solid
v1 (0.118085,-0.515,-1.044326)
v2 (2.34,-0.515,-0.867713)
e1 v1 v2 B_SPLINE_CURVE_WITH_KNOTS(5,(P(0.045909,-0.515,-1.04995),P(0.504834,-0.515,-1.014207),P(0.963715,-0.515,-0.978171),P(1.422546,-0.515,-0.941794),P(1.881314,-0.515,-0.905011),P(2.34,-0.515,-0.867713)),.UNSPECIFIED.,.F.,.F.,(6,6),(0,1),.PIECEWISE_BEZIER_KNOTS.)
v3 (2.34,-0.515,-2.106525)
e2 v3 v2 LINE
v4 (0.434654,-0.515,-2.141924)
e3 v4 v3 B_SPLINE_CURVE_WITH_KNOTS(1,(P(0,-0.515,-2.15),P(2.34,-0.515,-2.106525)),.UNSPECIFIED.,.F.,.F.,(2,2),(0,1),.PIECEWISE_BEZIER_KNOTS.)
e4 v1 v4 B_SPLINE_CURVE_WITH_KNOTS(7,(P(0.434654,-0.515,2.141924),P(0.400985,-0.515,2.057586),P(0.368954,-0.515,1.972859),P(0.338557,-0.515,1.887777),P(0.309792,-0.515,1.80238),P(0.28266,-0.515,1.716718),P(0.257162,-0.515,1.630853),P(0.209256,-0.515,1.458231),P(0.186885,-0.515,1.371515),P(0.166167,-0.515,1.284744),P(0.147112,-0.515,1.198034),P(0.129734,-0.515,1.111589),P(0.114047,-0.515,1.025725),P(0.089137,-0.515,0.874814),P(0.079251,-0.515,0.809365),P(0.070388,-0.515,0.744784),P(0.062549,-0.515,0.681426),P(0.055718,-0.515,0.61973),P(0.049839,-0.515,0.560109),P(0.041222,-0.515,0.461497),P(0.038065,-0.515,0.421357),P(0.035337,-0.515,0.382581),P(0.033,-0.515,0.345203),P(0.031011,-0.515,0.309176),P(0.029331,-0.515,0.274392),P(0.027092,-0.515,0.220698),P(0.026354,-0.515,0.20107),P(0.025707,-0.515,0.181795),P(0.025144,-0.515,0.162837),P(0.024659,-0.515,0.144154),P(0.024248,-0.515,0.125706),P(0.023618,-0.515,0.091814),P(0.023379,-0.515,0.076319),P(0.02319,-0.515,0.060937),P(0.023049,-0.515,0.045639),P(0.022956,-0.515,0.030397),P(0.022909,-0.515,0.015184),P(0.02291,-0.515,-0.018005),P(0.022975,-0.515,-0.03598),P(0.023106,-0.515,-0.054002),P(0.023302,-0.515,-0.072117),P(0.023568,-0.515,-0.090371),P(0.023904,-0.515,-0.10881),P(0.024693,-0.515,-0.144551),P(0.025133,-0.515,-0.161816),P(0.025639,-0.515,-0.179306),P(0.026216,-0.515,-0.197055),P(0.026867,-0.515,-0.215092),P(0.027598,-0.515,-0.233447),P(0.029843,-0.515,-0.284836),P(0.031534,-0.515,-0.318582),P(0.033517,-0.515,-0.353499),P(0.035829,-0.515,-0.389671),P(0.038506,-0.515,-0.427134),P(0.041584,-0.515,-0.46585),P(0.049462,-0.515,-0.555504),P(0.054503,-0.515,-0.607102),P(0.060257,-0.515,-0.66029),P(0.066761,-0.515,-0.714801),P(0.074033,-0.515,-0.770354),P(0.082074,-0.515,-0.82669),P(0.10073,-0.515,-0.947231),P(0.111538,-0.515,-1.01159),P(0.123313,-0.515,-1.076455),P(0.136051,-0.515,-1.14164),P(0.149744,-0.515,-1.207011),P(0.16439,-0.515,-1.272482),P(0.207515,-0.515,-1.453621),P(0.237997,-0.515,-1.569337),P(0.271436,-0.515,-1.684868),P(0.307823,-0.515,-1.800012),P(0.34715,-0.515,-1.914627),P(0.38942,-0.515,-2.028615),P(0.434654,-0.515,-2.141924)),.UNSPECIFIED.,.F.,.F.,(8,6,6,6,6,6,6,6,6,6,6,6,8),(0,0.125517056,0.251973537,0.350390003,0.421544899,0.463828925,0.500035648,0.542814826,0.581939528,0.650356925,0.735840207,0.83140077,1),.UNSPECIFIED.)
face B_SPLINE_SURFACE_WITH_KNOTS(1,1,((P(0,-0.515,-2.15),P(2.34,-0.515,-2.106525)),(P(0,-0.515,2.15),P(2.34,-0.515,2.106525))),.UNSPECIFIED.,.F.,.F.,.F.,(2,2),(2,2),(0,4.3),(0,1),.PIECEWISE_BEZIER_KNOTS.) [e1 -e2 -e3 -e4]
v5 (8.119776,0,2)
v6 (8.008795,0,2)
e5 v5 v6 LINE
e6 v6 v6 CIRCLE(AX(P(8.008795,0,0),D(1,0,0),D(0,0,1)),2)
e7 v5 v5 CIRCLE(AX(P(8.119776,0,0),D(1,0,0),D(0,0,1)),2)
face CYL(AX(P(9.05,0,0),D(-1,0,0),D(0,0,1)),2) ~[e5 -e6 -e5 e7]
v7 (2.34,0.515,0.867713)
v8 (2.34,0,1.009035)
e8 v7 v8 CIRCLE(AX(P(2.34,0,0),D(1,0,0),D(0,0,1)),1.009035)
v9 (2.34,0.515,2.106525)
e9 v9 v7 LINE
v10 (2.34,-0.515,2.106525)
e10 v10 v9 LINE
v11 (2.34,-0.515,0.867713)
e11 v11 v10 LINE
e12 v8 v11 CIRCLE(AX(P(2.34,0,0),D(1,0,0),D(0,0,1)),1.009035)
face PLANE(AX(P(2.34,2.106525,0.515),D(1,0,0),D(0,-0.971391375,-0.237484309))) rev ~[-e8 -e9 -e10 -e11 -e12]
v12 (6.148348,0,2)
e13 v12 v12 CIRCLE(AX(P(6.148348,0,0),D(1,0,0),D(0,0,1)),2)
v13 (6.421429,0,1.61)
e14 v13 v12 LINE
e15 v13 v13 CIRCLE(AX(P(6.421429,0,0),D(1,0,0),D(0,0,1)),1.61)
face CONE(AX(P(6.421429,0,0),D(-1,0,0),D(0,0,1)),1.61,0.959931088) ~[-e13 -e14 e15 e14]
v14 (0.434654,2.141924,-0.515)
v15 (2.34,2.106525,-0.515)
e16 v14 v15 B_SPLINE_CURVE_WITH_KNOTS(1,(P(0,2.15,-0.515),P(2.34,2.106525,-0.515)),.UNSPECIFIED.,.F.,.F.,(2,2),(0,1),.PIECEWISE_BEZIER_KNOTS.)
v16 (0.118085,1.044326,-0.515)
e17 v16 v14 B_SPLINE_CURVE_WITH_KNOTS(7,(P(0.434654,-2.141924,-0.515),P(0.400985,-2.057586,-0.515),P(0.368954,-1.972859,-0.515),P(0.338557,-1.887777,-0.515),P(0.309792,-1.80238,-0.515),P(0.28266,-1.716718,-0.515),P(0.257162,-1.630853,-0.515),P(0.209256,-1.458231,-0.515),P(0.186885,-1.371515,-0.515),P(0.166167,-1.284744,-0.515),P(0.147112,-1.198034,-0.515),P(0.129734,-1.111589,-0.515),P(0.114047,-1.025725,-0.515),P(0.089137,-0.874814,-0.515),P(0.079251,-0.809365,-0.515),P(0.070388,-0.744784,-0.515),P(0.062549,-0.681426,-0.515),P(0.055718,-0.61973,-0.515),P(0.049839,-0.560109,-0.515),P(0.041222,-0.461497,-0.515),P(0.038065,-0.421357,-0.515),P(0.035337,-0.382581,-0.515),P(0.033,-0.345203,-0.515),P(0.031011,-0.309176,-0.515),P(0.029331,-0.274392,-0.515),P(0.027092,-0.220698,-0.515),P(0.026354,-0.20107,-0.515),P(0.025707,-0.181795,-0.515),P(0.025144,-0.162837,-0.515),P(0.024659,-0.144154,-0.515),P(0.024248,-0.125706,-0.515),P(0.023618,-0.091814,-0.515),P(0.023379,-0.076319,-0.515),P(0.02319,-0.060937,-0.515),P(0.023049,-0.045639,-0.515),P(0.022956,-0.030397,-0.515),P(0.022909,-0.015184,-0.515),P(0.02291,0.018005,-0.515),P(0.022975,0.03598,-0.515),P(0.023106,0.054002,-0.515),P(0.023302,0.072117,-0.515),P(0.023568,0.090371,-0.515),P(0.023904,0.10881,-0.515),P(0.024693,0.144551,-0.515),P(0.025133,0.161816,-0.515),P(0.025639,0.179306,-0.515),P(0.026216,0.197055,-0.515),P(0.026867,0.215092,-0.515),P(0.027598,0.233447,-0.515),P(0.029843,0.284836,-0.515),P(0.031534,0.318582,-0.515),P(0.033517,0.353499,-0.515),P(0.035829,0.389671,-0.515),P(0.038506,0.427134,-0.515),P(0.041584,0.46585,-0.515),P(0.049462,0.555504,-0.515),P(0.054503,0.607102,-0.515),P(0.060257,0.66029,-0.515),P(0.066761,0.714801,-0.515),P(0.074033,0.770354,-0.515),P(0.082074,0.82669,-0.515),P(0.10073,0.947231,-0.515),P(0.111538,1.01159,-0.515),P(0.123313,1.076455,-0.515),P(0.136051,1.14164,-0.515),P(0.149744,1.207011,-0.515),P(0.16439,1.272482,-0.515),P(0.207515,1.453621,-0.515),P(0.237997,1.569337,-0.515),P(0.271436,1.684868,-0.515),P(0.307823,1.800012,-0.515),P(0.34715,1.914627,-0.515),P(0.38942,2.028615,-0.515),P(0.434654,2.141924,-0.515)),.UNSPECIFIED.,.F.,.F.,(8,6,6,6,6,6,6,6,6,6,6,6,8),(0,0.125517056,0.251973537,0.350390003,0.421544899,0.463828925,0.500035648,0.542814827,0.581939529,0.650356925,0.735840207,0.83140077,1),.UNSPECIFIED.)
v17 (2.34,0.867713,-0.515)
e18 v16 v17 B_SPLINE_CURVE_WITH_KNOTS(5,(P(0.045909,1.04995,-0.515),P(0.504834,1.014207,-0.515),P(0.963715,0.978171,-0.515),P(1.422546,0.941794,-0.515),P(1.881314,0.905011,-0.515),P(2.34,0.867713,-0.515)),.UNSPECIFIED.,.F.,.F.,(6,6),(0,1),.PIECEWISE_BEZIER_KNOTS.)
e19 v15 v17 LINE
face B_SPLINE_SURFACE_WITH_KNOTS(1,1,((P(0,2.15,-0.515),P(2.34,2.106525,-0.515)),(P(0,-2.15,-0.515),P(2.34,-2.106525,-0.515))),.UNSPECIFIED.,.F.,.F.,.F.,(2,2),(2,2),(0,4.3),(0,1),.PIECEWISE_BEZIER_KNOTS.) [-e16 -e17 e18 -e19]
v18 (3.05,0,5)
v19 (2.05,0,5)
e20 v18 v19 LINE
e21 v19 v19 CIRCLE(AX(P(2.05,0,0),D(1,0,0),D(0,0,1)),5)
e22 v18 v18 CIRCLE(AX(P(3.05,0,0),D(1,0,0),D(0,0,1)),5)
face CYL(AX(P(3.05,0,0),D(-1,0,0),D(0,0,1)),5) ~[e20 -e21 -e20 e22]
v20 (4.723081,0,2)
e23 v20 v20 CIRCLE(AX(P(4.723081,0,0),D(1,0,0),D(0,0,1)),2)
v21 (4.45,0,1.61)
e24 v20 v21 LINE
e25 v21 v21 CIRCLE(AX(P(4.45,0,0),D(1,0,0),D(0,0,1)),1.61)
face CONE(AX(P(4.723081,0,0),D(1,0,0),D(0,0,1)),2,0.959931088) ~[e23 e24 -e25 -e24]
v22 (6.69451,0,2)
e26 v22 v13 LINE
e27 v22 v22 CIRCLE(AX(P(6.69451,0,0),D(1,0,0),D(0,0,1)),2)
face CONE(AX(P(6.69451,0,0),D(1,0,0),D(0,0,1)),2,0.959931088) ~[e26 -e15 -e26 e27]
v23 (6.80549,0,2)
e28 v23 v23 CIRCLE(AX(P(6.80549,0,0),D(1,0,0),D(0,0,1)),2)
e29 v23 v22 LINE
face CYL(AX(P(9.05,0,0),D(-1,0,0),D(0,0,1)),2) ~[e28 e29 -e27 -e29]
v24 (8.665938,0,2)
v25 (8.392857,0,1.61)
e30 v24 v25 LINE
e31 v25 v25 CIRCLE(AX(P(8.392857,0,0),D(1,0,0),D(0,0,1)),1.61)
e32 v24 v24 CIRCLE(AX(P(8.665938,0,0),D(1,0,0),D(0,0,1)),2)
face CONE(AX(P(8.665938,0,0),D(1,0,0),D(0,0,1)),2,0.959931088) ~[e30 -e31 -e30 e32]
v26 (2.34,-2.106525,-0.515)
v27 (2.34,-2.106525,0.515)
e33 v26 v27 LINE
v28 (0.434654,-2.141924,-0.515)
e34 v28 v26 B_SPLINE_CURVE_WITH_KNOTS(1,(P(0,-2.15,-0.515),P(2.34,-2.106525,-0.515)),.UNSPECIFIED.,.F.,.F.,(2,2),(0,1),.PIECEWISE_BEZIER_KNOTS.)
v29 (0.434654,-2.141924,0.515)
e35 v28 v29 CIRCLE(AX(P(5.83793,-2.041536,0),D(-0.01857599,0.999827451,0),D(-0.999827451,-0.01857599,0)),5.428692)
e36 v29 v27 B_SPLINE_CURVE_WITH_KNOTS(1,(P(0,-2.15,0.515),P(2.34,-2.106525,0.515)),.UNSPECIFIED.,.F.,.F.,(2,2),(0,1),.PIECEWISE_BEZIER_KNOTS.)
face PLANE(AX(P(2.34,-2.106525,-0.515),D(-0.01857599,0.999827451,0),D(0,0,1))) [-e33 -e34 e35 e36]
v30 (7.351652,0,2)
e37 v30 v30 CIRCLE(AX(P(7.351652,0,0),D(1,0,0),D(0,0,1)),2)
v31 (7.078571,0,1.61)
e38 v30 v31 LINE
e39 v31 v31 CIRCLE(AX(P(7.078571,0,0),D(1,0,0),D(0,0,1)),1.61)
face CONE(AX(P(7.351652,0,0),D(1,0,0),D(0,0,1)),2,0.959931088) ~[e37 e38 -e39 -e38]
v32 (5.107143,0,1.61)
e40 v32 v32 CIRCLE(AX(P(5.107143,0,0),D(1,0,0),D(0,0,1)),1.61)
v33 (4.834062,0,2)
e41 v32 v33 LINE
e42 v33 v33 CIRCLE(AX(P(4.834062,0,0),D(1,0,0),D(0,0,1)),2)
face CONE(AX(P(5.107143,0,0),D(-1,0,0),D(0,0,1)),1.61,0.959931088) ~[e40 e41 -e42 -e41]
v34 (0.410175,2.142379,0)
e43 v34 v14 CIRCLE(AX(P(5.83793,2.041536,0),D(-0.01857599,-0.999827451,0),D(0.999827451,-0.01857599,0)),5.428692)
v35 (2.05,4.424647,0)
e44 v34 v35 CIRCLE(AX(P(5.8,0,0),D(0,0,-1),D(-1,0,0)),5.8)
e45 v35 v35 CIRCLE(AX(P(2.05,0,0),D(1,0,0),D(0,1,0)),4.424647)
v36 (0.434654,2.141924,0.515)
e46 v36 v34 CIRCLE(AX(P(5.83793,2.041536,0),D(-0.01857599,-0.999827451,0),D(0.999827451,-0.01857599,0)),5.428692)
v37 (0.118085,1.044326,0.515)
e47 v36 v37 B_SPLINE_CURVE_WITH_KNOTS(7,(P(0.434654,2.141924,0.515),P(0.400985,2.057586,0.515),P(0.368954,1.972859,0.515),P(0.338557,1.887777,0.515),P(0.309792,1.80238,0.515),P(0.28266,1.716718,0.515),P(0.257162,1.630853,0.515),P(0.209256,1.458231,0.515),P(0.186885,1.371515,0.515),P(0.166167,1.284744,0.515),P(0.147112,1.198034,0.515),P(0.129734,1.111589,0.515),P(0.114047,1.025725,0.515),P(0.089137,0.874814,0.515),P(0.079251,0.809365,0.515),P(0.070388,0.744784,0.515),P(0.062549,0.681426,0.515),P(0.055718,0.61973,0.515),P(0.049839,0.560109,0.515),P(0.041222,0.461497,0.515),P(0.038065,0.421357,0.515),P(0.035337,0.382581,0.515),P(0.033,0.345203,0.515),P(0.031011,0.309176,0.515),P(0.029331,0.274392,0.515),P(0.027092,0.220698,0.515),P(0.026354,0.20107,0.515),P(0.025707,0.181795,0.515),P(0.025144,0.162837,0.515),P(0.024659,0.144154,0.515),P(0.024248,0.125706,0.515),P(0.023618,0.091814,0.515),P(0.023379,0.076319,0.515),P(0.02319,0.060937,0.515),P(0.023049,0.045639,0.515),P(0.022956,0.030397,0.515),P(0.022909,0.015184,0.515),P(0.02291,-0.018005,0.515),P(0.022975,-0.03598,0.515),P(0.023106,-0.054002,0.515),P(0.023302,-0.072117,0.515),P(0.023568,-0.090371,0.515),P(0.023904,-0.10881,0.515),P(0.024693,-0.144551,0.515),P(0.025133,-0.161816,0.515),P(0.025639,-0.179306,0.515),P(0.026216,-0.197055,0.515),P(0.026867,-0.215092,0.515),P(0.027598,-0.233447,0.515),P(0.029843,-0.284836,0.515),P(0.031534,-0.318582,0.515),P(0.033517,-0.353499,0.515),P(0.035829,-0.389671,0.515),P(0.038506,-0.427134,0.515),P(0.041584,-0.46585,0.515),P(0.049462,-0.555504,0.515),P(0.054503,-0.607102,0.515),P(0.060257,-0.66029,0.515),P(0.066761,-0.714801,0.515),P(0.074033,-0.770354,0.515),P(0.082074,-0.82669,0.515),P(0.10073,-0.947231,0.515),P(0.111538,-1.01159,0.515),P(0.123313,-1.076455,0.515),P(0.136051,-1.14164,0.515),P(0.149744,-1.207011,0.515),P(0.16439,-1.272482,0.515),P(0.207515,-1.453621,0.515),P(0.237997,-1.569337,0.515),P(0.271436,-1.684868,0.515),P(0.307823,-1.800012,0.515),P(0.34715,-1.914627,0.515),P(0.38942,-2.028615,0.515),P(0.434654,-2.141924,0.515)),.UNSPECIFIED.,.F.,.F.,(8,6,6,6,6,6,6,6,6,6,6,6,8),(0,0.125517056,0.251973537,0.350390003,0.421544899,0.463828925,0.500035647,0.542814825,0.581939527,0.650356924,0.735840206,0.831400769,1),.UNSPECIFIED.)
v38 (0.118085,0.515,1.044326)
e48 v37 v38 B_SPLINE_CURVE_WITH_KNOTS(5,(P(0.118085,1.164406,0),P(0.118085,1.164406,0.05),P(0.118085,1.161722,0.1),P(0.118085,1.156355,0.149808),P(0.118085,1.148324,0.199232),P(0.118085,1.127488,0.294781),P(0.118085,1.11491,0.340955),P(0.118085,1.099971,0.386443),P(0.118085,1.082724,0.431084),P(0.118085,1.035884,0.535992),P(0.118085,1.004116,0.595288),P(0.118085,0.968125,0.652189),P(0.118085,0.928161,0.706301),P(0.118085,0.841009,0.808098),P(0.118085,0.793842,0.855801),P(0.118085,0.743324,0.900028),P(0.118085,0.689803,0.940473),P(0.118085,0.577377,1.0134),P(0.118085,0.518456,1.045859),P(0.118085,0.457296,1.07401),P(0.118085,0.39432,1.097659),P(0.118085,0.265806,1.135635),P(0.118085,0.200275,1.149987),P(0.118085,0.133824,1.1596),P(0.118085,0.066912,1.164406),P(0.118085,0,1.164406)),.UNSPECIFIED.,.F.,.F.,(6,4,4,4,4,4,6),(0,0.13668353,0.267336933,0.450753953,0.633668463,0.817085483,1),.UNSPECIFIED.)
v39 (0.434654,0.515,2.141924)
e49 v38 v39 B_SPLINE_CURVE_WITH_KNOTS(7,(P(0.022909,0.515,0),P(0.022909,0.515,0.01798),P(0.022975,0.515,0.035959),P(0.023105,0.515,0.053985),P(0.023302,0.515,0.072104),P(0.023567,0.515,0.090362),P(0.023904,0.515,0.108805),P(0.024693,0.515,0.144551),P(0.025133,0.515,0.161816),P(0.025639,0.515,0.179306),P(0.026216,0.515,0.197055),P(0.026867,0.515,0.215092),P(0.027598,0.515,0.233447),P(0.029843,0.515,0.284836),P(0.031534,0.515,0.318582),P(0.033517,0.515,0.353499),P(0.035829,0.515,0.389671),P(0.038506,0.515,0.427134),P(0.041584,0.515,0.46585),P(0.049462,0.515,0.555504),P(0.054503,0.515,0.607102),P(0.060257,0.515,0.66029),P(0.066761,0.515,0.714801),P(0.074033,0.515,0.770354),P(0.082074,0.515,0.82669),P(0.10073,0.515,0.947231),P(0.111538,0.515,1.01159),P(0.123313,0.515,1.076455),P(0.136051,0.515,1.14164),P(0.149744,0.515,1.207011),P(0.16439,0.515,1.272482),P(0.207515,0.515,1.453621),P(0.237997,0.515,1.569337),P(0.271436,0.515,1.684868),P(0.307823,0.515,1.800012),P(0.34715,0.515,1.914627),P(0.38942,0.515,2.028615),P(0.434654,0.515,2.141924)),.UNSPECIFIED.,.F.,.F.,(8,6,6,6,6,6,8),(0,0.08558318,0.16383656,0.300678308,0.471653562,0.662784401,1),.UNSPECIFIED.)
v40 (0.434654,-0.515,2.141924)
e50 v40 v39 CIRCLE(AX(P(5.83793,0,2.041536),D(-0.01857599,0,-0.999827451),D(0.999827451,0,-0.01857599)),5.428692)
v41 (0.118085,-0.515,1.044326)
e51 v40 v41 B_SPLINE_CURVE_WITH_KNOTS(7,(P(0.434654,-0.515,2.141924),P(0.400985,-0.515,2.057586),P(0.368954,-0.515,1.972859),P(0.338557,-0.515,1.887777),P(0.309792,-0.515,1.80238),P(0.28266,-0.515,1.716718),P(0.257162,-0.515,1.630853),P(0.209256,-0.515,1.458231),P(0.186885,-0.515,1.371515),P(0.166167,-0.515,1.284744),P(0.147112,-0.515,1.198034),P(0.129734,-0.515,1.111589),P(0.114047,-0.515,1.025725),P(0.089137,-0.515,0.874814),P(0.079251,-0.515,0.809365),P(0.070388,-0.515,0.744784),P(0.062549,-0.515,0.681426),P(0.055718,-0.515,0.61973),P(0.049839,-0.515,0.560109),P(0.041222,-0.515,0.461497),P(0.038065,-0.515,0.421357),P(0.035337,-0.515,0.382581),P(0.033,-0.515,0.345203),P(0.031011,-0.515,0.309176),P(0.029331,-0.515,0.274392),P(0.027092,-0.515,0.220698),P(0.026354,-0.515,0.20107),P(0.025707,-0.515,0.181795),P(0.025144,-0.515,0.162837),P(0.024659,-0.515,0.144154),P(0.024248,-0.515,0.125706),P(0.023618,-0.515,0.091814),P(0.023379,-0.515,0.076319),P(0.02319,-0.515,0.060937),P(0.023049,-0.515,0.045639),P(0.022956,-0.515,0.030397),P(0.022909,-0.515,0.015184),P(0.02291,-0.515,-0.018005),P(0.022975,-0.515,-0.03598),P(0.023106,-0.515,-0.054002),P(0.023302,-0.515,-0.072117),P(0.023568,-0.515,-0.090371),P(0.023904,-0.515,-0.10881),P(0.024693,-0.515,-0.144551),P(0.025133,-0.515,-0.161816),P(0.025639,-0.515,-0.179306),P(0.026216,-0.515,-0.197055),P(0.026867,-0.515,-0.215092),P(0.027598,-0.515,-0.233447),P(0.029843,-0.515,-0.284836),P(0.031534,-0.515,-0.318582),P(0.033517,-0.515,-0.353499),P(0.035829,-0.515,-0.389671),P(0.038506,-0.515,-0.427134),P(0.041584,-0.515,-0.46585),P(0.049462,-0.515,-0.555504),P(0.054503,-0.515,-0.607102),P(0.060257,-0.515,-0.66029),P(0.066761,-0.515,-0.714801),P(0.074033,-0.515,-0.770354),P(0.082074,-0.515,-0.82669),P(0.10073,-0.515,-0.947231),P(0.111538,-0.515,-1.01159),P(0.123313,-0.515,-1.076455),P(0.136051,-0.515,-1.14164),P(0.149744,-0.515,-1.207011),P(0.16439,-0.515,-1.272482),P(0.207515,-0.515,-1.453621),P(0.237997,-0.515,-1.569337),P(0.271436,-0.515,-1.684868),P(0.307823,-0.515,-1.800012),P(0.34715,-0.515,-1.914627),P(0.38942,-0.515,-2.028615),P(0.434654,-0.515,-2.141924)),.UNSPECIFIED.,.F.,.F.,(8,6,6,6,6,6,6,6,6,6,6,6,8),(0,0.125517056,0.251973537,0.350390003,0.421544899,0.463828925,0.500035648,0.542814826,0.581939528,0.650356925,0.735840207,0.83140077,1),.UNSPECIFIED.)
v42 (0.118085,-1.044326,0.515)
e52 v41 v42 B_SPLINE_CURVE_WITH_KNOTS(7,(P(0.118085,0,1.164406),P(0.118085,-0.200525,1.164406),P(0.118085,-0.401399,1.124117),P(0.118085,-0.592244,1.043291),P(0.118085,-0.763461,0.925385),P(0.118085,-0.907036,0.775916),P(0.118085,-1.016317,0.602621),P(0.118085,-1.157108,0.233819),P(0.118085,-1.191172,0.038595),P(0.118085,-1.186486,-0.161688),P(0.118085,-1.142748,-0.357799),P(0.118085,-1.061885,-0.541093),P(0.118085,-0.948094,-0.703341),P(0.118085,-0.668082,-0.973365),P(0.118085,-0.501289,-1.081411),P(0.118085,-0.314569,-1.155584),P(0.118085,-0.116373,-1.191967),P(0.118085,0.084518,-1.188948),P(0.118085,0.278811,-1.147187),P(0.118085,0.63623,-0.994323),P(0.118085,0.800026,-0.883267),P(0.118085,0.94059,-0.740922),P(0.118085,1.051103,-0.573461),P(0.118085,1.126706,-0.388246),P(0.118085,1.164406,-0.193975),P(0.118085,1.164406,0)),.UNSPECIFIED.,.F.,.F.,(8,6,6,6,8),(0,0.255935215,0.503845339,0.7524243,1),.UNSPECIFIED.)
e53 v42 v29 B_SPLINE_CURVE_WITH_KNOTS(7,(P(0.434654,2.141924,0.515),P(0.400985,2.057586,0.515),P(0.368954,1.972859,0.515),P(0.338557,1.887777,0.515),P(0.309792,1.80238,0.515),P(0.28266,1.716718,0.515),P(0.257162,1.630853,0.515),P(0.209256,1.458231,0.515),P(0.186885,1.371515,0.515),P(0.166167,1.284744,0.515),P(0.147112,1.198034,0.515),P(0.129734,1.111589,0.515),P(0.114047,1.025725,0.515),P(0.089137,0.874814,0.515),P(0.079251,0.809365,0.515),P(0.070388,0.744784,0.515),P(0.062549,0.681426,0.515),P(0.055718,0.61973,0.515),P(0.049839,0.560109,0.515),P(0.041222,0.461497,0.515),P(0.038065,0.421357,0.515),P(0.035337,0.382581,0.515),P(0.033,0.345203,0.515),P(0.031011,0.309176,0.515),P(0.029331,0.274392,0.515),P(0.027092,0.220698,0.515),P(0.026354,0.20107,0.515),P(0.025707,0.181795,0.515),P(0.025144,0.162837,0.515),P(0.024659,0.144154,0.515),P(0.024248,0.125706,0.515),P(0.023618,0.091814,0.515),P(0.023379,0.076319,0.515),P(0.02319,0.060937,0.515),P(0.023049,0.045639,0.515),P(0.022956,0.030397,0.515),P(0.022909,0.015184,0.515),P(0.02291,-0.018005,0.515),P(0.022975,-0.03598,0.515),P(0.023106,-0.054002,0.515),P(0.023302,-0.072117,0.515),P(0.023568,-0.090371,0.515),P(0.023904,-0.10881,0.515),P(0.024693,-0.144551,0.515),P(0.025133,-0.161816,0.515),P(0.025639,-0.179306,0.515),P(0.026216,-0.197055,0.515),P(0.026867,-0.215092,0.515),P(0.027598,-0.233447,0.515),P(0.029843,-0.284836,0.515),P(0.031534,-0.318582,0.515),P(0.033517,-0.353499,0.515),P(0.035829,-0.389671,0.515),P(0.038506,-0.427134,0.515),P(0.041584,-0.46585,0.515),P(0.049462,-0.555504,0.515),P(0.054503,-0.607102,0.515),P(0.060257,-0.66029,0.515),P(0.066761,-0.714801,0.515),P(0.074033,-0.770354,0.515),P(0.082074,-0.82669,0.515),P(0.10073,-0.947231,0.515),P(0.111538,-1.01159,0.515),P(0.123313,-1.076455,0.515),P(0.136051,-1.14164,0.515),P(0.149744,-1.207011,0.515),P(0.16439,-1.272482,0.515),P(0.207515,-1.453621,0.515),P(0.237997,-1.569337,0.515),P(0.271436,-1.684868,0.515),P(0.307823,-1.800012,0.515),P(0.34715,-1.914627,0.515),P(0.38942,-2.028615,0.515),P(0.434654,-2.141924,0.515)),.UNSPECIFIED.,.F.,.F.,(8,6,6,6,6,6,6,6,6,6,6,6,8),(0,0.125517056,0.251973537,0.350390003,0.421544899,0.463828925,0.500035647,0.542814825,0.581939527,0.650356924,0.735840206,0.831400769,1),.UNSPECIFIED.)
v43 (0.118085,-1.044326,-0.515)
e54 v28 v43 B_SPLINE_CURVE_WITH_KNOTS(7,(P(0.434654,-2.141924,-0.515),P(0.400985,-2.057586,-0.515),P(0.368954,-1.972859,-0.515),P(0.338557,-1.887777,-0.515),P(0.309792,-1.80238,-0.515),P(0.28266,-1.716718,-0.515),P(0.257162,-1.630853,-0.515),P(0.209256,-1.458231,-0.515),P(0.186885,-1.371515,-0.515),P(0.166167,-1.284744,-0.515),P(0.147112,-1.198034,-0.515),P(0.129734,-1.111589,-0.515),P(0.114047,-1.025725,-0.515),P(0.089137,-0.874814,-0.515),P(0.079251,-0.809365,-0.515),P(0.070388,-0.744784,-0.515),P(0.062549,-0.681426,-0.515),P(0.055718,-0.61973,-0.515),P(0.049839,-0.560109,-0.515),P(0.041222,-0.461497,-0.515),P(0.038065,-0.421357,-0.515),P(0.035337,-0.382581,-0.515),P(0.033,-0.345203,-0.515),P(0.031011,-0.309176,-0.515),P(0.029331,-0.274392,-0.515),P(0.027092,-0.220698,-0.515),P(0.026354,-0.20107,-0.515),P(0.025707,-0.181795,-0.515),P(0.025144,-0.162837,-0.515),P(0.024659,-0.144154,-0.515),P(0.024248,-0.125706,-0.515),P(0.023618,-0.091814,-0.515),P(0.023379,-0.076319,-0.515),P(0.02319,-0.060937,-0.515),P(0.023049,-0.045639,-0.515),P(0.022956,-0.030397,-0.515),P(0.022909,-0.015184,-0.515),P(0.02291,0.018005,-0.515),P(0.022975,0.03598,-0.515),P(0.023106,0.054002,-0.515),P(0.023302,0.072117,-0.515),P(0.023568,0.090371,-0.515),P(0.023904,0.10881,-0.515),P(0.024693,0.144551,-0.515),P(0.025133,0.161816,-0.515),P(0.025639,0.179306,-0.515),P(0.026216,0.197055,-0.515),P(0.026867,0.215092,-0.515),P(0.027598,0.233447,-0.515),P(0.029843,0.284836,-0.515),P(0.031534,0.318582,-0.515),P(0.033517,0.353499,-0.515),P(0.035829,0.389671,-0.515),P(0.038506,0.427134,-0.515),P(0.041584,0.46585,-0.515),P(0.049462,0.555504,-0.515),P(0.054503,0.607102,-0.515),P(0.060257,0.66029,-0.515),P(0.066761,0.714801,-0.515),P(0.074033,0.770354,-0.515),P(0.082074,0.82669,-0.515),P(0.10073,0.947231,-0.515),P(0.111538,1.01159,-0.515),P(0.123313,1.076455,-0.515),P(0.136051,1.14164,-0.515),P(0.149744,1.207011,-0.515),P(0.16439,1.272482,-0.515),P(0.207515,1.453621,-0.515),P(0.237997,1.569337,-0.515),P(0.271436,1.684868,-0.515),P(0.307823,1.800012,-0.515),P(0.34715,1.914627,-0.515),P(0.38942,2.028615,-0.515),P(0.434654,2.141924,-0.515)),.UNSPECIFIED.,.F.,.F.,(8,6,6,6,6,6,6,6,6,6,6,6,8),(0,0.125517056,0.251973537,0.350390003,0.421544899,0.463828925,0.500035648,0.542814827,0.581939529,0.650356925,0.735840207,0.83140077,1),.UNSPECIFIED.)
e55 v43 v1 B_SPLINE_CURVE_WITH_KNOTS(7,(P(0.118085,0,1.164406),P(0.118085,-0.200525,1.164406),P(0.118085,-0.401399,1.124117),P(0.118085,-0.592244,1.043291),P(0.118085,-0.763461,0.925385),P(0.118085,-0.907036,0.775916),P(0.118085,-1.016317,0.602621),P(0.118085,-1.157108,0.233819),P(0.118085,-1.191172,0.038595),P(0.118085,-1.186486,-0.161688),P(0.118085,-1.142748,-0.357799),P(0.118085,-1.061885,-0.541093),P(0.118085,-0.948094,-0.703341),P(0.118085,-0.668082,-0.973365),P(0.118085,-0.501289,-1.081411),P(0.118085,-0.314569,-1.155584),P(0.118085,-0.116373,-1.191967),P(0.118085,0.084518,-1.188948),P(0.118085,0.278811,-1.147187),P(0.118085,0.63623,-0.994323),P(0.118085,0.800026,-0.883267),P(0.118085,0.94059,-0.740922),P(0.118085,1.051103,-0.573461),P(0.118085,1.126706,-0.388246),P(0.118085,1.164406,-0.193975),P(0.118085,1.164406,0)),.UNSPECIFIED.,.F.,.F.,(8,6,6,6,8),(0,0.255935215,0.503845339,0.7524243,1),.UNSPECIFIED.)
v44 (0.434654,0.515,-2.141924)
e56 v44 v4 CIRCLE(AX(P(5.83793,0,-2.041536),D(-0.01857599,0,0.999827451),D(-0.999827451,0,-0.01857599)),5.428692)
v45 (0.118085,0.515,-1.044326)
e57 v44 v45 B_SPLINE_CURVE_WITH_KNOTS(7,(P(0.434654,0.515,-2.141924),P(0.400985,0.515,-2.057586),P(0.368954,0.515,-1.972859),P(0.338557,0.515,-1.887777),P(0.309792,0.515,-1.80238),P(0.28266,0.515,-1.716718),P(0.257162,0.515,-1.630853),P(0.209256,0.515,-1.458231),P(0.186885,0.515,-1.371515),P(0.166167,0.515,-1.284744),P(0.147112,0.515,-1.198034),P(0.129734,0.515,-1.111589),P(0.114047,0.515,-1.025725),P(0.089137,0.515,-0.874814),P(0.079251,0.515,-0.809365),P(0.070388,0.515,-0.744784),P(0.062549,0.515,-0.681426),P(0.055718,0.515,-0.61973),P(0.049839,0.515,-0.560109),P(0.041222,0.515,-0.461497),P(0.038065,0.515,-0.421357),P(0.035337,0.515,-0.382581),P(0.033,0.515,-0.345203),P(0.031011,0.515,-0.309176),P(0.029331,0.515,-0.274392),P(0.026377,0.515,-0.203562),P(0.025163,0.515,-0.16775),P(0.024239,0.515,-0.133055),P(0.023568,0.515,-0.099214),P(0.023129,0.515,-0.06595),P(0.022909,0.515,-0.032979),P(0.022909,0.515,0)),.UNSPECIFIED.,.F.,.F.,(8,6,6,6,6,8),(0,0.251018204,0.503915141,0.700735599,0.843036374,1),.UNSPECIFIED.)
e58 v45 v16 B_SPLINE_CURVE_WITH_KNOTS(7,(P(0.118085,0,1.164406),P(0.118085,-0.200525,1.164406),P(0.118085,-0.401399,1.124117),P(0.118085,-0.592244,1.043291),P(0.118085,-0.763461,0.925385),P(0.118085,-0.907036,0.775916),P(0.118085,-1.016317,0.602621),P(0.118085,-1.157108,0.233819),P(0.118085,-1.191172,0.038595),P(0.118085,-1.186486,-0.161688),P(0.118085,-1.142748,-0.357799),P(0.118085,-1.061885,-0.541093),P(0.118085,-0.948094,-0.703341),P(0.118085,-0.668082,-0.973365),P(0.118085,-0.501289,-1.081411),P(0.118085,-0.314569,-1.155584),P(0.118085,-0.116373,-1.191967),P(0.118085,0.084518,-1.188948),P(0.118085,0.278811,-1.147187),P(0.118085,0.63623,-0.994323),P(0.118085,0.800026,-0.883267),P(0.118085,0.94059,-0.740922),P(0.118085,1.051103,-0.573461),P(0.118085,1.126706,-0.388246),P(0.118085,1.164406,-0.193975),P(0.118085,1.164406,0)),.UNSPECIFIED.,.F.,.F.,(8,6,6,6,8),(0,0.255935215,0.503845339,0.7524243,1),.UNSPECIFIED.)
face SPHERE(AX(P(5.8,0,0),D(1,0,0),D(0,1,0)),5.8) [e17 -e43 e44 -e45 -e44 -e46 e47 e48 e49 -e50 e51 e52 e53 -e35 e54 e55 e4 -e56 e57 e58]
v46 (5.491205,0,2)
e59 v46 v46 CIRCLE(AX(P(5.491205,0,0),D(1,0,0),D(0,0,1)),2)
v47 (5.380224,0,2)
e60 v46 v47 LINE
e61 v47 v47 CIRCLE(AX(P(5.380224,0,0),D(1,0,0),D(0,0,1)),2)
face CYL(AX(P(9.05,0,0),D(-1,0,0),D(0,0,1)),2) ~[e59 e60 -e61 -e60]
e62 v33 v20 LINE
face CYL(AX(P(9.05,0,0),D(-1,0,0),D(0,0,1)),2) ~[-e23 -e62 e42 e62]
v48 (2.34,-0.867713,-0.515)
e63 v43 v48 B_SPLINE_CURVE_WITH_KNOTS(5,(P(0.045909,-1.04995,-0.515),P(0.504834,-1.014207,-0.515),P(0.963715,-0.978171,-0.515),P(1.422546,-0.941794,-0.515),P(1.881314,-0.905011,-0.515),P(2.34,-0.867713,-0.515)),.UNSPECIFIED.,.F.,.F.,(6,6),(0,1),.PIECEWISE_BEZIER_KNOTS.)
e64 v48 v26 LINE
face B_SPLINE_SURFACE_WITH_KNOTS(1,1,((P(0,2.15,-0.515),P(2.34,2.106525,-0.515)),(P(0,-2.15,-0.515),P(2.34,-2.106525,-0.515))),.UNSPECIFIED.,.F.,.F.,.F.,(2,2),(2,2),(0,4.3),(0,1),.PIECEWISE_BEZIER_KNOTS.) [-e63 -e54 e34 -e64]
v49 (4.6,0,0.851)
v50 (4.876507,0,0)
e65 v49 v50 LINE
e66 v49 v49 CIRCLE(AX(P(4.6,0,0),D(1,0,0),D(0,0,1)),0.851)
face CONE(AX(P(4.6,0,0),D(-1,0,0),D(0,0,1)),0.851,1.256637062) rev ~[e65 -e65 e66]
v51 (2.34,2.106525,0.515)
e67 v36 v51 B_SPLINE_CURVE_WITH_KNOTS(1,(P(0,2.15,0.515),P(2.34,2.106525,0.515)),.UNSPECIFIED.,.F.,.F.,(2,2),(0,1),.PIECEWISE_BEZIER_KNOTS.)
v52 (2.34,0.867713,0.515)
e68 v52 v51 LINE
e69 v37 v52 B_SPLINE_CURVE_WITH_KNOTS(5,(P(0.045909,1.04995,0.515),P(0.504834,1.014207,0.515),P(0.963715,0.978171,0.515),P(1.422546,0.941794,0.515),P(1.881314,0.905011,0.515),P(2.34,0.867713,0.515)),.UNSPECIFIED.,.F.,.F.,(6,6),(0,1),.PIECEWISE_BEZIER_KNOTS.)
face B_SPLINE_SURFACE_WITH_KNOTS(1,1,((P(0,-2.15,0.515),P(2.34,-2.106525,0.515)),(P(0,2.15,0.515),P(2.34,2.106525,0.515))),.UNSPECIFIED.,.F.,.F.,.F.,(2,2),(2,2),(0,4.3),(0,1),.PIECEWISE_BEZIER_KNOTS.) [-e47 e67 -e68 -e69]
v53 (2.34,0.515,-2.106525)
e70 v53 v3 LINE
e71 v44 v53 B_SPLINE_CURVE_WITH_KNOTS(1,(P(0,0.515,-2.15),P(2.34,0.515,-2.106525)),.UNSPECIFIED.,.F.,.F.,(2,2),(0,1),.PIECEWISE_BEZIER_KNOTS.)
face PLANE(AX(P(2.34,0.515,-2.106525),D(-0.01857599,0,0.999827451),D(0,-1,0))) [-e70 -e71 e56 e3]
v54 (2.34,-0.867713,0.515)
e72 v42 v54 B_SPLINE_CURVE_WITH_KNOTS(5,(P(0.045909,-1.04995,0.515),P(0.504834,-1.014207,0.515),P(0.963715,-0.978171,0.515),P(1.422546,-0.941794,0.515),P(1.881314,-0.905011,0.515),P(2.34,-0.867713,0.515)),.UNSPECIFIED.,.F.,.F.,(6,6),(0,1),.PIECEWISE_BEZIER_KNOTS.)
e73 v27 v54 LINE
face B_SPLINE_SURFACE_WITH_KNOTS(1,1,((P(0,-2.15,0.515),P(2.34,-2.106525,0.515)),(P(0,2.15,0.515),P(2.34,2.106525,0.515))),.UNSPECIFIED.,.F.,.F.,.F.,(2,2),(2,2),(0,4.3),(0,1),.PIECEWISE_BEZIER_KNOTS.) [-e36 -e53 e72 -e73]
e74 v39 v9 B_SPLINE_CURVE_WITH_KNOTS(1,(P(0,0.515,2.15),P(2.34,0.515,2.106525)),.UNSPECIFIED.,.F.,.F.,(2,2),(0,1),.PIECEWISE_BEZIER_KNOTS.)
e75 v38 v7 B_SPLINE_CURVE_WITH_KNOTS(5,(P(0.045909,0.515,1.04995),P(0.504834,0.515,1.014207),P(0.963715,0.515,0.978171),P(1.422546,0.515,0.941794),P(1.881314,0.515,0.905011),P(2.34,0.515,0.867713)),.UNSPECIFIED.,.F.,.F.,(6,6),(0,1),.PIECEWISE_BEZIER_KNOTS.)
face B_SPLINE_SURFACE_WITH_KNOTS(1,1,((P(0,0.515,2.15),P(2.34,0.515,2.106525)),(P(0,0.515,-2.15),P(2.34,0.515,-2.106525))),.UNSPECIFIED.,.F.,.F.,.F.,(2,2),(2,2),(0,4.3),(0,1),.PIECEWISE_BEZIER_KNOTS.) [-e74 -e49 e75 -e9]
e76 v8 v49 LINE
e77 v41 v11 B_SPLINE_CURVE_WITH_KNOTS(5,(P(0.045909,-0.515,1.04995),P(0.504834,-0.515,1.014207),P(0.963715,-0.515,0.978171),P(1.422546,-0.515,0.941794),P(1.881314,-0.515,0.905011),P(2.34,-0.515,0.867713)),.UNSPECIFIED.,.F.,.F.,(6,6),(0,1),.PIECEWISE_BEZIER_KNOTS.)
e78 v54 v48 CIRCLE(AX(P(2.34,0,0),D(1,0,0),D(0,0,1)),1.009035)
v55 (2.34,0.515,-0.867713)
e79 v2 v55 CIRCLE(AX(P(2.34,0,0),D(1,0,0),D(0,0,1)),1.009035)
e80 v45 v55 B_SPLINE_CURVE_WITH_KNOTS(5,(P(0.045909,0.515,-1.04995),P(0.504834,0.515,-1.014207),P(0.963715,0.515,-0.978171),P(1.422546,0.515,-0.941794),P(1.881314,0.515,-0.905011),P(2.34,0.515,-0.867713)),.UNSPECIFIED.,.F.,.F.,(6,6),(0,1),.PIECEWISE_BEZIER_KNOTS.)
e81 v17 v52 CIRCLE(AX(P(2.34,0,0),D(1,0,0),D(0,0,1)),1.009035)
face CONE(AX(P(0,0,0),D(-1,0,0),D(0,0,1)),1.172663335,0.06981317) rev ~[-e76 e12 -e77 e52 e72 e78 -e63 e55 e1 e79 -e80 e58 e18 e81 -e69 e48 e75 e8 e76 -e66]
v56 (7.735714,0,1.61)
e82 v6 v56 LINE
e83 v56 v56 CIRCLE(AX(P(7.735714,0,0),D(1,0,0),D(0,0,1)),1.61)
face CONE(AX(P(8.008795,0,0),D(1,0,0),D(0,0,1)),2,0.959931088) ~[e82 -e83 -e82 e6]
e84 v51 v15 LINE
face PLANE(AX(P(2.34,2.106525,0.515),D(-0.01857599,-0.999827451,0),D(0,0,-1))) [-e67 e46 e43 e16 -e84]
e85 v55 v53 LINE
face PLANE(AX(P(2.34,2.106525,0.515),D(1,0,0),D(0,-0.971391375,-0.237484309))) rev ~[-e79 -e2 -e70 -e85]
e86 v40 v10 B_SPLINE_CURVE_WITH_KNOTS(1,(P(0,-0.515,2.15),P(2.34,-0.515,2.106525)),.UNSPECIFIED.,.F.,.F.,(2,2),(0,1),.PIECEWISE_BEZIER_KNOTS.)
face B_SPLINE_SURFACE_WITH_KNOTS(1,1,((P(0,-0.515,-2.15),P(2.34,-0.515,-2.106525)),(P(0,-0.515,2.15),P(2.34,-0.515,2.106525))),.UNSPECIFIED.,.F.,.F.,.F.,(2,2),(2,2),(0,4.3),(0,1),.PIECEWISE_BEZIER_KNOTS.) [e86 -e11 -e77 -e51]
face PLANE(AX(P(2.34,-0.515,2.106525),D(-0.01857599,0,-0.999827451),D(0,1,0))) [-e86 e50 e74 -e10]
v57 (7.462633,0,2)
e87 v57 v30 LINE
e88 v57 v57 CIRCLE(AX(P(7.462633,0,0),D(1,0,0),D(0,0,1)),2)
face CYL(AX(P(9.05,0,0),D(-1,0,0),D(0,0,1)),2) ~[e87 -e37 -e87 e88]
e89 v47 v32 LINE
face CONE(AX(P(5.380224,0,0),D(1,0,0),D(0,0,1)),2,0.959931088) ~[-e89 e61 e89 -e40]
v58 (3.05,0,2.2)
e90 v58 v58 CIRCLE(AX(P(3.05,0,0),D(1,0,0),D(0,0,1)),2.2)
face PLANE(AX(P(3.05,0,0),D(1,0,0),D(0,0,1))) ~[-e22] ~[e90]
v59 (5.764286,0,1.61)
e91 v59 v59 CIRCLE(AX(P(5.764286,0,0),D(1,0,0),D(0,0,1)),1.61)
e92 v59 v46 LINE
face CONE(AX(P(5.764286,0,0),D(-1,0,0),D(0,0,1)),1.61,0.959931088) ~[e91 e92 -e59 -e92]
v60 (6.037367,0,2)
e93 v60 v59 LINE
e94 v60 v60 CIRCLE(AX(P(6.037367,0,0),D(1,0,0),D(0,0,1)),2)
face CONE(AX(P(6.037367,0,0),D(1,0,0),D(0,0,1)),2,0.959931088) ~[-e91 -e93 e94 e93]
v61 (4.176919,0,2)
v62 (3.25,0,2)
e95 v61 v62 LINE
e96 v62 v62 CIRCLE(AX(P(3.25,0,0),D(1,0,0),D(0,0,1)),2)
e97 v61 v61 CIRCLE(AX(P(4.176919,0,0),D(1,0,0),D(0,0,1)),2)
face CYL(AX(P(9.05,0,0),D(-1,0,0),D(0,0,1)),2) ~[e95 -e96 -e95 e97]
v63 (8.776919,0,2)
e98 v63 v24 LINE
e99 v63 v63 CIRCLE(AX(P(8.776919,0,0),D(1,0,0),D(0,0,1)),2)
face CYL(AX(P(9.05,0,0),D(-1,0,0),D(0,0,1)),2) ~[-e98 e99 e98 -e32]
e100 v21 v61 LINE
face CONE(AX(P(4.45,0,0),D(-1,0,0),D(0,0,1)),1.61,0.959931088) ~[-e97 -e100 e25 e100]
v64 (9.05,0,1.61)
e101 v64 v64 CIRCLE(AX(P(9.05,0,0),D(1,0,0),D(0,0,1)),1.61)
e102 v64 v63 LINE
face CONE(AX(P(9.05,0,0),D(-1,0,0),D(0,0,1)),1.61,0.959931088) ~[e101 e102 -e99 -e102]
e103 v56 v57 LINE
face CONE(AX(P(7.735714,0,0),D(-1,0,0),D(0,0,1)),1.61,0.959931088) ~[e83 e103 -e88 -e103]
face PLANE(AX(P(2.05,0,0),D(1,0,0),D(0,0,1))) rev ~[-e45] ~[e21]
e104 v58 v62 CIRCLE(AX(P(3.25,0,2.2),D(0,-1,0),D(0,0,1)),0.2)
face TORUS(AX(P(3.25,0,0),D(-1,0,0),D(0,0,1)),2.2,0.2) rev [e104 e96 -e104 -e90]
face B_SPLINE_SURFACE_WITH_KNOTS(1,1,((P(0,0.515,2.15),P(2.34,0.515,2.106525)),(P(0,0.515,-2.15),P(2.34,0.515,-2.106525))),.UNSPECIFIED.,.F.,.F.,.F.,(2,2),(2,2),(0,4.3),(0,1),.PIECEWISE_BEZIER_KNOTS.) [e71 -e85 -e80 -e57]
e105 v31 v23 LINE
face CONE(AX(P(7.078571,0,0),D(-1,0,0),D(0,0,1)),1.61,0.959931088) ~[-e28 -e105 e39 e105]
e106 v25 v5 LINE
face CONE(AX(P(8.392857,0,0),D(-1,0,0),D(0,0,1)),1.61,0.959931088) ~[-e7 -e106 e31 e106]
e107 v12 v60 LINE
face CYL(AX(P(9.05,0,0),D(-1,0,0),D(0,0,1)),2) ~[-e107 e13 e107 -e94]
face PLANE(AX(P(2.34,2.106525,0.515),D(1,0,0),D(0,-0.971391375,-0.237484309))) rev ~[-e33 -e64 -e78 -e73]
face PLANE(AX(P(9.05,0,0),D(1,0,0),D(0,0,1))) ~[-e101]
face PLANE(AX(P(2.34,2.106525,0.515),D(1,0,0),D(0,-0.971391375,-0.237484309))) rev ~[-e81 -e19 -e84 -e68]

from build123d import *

# Parameters (mm, degrees)
FILLET1_R       = 0.2
RECPAT_COUNT    = 2
RECPAT_ANGLE    = 90
THDSCHPAT_COUNT = 8
THDSCHPAT_PITCH = 0.657142857


with BuildPart() as part:
    # BodySke → Base-Revolve (revolve)
    with BuildSketch(Plane.XY, mode=Mode.PRIVATE) as base_revolve_sk:
        Polygon((3.05, 2), (3.05, 5), (2.05, 5), (2.05, 0), (9.05, 0), (9.05, 2), align=None)
    revolve(base_revolve_sk.sketch.rotate(Axis((-6.35, 0, 0), (1, 0, 0)), 90), axis=Axis((-6.35, 0, 0), (1, 0, 0)))

    # Fillet1
    fillet1_edges = [part.edges().sort_by_distance(p)[0] for p in [
        (3.05, 0, -2),
    ]]
    fillet(fillet1_edges, radius=FILLET1_R)

    # PanSke → Pan (revolve)
    with BuildSketch(Plane.XY):
        with BuildLine():
            Line((2.05, 4.424646879), (2.05, 0))
            Line((2.05, 0), (0, 0))
            ThreePointArc((0, 0), (0.537396082, 2.438237068), (2.05, 4.424646879))
        make_face()
    revolve(axis=Axis((0, 0, 0), (1, 0, 0)))

    # Sketch3 → Recess section 0
    with BuildSketch(Plane(origin=(0, 0, 0), x_dir=(0, 0, -1), z_dir=(1, 0, 0))):
        with BuildLine():
            Line((-0.515, 2.15), (0.515, 2.15))
            Line((0.515, 2.15), (0.515, -2.15))
            Line((0.515, -2.15), (-0.515, -2.15))
            Line((-0.515, -2.15), (-0.515, 2.15))
        make_face()
    # Sketch4 → Recess section 1
    with BuildSketch(Plane(origin=(2.34, 0, 0), x_dir=(0, 0, -1), z_dir=(1, 0, 0))):
        with BuildLine():
            Line((-0.515, 2.106524682), (0.515, 2.106524682))
            Line((0.515, 2.106524682), (0.515, -2.106524682))
            Line((0.515, -2.106524682), (-0.515, -2.106524682))
            Line((-0.515, -2.106524682), (-0.515, 2.106524682))
        make_face()
    recess = loft(mode=Mode.SUBTRACT)

    # RecPat: Recess ×2 about axis
    recpat_axis = Axis((0, 0, 0), (1, 0, 0))
    for i in range(1, RECPAT_COUNT):
        add(recess.rotate(recpat_axis, i * RECPAT_ANGLE / (RECPAT_COUNT - 1)), mode=Mode.SUBTRACT)

    # RecCorSke → RecessCore (revolve, cut)
    with BuildSketch(Plane.XY, mode=Mode.PRIVATE) as recesscore_sk:
        Polygon((0, 0), (0, 1.172663335), (4.6, 0.851), (4.876506661, 0), align=None)
    revolve(recesscore_sk.sketch.rotate(Axis((-3.175, 0, 0), (1, 0, 0)), 90), axis=Axis((-3.175, 0, 0), (1, 0, 0)), mode=Mode.SUBTRACT)

    # ThdSchSke → ThreadSchematic (revolve, cut)
    with BuildSketch(Plane.XY, mode=Mode.PRIVATE) as threadschematic_sk:
        Polygon((4.45, -1.61), (4.17691906, -2), (4.17691906, -2.5), (4.72308094, -2.5), (4.72308094, -2), align=None)
    threadschematic = revolve(threadschematic_sk.sketch.rotate(Axis((-3.175, 0, 0), (1, 0, 0)), 270), axis=Axis((-3.175, 0, 0), (1, 0, 0)), mode=Mode.SUBTRACT)

    # ThdSchPat: ThreadSchematic ×8
    with Locations(*[(i * THDSCHPAT_PITCH, 0, 0) for i in range(1, THDSCHPAT_COUNT)]):
        add(threadschematic, mode=Mode.SUBTRACT)


solid = part.part
